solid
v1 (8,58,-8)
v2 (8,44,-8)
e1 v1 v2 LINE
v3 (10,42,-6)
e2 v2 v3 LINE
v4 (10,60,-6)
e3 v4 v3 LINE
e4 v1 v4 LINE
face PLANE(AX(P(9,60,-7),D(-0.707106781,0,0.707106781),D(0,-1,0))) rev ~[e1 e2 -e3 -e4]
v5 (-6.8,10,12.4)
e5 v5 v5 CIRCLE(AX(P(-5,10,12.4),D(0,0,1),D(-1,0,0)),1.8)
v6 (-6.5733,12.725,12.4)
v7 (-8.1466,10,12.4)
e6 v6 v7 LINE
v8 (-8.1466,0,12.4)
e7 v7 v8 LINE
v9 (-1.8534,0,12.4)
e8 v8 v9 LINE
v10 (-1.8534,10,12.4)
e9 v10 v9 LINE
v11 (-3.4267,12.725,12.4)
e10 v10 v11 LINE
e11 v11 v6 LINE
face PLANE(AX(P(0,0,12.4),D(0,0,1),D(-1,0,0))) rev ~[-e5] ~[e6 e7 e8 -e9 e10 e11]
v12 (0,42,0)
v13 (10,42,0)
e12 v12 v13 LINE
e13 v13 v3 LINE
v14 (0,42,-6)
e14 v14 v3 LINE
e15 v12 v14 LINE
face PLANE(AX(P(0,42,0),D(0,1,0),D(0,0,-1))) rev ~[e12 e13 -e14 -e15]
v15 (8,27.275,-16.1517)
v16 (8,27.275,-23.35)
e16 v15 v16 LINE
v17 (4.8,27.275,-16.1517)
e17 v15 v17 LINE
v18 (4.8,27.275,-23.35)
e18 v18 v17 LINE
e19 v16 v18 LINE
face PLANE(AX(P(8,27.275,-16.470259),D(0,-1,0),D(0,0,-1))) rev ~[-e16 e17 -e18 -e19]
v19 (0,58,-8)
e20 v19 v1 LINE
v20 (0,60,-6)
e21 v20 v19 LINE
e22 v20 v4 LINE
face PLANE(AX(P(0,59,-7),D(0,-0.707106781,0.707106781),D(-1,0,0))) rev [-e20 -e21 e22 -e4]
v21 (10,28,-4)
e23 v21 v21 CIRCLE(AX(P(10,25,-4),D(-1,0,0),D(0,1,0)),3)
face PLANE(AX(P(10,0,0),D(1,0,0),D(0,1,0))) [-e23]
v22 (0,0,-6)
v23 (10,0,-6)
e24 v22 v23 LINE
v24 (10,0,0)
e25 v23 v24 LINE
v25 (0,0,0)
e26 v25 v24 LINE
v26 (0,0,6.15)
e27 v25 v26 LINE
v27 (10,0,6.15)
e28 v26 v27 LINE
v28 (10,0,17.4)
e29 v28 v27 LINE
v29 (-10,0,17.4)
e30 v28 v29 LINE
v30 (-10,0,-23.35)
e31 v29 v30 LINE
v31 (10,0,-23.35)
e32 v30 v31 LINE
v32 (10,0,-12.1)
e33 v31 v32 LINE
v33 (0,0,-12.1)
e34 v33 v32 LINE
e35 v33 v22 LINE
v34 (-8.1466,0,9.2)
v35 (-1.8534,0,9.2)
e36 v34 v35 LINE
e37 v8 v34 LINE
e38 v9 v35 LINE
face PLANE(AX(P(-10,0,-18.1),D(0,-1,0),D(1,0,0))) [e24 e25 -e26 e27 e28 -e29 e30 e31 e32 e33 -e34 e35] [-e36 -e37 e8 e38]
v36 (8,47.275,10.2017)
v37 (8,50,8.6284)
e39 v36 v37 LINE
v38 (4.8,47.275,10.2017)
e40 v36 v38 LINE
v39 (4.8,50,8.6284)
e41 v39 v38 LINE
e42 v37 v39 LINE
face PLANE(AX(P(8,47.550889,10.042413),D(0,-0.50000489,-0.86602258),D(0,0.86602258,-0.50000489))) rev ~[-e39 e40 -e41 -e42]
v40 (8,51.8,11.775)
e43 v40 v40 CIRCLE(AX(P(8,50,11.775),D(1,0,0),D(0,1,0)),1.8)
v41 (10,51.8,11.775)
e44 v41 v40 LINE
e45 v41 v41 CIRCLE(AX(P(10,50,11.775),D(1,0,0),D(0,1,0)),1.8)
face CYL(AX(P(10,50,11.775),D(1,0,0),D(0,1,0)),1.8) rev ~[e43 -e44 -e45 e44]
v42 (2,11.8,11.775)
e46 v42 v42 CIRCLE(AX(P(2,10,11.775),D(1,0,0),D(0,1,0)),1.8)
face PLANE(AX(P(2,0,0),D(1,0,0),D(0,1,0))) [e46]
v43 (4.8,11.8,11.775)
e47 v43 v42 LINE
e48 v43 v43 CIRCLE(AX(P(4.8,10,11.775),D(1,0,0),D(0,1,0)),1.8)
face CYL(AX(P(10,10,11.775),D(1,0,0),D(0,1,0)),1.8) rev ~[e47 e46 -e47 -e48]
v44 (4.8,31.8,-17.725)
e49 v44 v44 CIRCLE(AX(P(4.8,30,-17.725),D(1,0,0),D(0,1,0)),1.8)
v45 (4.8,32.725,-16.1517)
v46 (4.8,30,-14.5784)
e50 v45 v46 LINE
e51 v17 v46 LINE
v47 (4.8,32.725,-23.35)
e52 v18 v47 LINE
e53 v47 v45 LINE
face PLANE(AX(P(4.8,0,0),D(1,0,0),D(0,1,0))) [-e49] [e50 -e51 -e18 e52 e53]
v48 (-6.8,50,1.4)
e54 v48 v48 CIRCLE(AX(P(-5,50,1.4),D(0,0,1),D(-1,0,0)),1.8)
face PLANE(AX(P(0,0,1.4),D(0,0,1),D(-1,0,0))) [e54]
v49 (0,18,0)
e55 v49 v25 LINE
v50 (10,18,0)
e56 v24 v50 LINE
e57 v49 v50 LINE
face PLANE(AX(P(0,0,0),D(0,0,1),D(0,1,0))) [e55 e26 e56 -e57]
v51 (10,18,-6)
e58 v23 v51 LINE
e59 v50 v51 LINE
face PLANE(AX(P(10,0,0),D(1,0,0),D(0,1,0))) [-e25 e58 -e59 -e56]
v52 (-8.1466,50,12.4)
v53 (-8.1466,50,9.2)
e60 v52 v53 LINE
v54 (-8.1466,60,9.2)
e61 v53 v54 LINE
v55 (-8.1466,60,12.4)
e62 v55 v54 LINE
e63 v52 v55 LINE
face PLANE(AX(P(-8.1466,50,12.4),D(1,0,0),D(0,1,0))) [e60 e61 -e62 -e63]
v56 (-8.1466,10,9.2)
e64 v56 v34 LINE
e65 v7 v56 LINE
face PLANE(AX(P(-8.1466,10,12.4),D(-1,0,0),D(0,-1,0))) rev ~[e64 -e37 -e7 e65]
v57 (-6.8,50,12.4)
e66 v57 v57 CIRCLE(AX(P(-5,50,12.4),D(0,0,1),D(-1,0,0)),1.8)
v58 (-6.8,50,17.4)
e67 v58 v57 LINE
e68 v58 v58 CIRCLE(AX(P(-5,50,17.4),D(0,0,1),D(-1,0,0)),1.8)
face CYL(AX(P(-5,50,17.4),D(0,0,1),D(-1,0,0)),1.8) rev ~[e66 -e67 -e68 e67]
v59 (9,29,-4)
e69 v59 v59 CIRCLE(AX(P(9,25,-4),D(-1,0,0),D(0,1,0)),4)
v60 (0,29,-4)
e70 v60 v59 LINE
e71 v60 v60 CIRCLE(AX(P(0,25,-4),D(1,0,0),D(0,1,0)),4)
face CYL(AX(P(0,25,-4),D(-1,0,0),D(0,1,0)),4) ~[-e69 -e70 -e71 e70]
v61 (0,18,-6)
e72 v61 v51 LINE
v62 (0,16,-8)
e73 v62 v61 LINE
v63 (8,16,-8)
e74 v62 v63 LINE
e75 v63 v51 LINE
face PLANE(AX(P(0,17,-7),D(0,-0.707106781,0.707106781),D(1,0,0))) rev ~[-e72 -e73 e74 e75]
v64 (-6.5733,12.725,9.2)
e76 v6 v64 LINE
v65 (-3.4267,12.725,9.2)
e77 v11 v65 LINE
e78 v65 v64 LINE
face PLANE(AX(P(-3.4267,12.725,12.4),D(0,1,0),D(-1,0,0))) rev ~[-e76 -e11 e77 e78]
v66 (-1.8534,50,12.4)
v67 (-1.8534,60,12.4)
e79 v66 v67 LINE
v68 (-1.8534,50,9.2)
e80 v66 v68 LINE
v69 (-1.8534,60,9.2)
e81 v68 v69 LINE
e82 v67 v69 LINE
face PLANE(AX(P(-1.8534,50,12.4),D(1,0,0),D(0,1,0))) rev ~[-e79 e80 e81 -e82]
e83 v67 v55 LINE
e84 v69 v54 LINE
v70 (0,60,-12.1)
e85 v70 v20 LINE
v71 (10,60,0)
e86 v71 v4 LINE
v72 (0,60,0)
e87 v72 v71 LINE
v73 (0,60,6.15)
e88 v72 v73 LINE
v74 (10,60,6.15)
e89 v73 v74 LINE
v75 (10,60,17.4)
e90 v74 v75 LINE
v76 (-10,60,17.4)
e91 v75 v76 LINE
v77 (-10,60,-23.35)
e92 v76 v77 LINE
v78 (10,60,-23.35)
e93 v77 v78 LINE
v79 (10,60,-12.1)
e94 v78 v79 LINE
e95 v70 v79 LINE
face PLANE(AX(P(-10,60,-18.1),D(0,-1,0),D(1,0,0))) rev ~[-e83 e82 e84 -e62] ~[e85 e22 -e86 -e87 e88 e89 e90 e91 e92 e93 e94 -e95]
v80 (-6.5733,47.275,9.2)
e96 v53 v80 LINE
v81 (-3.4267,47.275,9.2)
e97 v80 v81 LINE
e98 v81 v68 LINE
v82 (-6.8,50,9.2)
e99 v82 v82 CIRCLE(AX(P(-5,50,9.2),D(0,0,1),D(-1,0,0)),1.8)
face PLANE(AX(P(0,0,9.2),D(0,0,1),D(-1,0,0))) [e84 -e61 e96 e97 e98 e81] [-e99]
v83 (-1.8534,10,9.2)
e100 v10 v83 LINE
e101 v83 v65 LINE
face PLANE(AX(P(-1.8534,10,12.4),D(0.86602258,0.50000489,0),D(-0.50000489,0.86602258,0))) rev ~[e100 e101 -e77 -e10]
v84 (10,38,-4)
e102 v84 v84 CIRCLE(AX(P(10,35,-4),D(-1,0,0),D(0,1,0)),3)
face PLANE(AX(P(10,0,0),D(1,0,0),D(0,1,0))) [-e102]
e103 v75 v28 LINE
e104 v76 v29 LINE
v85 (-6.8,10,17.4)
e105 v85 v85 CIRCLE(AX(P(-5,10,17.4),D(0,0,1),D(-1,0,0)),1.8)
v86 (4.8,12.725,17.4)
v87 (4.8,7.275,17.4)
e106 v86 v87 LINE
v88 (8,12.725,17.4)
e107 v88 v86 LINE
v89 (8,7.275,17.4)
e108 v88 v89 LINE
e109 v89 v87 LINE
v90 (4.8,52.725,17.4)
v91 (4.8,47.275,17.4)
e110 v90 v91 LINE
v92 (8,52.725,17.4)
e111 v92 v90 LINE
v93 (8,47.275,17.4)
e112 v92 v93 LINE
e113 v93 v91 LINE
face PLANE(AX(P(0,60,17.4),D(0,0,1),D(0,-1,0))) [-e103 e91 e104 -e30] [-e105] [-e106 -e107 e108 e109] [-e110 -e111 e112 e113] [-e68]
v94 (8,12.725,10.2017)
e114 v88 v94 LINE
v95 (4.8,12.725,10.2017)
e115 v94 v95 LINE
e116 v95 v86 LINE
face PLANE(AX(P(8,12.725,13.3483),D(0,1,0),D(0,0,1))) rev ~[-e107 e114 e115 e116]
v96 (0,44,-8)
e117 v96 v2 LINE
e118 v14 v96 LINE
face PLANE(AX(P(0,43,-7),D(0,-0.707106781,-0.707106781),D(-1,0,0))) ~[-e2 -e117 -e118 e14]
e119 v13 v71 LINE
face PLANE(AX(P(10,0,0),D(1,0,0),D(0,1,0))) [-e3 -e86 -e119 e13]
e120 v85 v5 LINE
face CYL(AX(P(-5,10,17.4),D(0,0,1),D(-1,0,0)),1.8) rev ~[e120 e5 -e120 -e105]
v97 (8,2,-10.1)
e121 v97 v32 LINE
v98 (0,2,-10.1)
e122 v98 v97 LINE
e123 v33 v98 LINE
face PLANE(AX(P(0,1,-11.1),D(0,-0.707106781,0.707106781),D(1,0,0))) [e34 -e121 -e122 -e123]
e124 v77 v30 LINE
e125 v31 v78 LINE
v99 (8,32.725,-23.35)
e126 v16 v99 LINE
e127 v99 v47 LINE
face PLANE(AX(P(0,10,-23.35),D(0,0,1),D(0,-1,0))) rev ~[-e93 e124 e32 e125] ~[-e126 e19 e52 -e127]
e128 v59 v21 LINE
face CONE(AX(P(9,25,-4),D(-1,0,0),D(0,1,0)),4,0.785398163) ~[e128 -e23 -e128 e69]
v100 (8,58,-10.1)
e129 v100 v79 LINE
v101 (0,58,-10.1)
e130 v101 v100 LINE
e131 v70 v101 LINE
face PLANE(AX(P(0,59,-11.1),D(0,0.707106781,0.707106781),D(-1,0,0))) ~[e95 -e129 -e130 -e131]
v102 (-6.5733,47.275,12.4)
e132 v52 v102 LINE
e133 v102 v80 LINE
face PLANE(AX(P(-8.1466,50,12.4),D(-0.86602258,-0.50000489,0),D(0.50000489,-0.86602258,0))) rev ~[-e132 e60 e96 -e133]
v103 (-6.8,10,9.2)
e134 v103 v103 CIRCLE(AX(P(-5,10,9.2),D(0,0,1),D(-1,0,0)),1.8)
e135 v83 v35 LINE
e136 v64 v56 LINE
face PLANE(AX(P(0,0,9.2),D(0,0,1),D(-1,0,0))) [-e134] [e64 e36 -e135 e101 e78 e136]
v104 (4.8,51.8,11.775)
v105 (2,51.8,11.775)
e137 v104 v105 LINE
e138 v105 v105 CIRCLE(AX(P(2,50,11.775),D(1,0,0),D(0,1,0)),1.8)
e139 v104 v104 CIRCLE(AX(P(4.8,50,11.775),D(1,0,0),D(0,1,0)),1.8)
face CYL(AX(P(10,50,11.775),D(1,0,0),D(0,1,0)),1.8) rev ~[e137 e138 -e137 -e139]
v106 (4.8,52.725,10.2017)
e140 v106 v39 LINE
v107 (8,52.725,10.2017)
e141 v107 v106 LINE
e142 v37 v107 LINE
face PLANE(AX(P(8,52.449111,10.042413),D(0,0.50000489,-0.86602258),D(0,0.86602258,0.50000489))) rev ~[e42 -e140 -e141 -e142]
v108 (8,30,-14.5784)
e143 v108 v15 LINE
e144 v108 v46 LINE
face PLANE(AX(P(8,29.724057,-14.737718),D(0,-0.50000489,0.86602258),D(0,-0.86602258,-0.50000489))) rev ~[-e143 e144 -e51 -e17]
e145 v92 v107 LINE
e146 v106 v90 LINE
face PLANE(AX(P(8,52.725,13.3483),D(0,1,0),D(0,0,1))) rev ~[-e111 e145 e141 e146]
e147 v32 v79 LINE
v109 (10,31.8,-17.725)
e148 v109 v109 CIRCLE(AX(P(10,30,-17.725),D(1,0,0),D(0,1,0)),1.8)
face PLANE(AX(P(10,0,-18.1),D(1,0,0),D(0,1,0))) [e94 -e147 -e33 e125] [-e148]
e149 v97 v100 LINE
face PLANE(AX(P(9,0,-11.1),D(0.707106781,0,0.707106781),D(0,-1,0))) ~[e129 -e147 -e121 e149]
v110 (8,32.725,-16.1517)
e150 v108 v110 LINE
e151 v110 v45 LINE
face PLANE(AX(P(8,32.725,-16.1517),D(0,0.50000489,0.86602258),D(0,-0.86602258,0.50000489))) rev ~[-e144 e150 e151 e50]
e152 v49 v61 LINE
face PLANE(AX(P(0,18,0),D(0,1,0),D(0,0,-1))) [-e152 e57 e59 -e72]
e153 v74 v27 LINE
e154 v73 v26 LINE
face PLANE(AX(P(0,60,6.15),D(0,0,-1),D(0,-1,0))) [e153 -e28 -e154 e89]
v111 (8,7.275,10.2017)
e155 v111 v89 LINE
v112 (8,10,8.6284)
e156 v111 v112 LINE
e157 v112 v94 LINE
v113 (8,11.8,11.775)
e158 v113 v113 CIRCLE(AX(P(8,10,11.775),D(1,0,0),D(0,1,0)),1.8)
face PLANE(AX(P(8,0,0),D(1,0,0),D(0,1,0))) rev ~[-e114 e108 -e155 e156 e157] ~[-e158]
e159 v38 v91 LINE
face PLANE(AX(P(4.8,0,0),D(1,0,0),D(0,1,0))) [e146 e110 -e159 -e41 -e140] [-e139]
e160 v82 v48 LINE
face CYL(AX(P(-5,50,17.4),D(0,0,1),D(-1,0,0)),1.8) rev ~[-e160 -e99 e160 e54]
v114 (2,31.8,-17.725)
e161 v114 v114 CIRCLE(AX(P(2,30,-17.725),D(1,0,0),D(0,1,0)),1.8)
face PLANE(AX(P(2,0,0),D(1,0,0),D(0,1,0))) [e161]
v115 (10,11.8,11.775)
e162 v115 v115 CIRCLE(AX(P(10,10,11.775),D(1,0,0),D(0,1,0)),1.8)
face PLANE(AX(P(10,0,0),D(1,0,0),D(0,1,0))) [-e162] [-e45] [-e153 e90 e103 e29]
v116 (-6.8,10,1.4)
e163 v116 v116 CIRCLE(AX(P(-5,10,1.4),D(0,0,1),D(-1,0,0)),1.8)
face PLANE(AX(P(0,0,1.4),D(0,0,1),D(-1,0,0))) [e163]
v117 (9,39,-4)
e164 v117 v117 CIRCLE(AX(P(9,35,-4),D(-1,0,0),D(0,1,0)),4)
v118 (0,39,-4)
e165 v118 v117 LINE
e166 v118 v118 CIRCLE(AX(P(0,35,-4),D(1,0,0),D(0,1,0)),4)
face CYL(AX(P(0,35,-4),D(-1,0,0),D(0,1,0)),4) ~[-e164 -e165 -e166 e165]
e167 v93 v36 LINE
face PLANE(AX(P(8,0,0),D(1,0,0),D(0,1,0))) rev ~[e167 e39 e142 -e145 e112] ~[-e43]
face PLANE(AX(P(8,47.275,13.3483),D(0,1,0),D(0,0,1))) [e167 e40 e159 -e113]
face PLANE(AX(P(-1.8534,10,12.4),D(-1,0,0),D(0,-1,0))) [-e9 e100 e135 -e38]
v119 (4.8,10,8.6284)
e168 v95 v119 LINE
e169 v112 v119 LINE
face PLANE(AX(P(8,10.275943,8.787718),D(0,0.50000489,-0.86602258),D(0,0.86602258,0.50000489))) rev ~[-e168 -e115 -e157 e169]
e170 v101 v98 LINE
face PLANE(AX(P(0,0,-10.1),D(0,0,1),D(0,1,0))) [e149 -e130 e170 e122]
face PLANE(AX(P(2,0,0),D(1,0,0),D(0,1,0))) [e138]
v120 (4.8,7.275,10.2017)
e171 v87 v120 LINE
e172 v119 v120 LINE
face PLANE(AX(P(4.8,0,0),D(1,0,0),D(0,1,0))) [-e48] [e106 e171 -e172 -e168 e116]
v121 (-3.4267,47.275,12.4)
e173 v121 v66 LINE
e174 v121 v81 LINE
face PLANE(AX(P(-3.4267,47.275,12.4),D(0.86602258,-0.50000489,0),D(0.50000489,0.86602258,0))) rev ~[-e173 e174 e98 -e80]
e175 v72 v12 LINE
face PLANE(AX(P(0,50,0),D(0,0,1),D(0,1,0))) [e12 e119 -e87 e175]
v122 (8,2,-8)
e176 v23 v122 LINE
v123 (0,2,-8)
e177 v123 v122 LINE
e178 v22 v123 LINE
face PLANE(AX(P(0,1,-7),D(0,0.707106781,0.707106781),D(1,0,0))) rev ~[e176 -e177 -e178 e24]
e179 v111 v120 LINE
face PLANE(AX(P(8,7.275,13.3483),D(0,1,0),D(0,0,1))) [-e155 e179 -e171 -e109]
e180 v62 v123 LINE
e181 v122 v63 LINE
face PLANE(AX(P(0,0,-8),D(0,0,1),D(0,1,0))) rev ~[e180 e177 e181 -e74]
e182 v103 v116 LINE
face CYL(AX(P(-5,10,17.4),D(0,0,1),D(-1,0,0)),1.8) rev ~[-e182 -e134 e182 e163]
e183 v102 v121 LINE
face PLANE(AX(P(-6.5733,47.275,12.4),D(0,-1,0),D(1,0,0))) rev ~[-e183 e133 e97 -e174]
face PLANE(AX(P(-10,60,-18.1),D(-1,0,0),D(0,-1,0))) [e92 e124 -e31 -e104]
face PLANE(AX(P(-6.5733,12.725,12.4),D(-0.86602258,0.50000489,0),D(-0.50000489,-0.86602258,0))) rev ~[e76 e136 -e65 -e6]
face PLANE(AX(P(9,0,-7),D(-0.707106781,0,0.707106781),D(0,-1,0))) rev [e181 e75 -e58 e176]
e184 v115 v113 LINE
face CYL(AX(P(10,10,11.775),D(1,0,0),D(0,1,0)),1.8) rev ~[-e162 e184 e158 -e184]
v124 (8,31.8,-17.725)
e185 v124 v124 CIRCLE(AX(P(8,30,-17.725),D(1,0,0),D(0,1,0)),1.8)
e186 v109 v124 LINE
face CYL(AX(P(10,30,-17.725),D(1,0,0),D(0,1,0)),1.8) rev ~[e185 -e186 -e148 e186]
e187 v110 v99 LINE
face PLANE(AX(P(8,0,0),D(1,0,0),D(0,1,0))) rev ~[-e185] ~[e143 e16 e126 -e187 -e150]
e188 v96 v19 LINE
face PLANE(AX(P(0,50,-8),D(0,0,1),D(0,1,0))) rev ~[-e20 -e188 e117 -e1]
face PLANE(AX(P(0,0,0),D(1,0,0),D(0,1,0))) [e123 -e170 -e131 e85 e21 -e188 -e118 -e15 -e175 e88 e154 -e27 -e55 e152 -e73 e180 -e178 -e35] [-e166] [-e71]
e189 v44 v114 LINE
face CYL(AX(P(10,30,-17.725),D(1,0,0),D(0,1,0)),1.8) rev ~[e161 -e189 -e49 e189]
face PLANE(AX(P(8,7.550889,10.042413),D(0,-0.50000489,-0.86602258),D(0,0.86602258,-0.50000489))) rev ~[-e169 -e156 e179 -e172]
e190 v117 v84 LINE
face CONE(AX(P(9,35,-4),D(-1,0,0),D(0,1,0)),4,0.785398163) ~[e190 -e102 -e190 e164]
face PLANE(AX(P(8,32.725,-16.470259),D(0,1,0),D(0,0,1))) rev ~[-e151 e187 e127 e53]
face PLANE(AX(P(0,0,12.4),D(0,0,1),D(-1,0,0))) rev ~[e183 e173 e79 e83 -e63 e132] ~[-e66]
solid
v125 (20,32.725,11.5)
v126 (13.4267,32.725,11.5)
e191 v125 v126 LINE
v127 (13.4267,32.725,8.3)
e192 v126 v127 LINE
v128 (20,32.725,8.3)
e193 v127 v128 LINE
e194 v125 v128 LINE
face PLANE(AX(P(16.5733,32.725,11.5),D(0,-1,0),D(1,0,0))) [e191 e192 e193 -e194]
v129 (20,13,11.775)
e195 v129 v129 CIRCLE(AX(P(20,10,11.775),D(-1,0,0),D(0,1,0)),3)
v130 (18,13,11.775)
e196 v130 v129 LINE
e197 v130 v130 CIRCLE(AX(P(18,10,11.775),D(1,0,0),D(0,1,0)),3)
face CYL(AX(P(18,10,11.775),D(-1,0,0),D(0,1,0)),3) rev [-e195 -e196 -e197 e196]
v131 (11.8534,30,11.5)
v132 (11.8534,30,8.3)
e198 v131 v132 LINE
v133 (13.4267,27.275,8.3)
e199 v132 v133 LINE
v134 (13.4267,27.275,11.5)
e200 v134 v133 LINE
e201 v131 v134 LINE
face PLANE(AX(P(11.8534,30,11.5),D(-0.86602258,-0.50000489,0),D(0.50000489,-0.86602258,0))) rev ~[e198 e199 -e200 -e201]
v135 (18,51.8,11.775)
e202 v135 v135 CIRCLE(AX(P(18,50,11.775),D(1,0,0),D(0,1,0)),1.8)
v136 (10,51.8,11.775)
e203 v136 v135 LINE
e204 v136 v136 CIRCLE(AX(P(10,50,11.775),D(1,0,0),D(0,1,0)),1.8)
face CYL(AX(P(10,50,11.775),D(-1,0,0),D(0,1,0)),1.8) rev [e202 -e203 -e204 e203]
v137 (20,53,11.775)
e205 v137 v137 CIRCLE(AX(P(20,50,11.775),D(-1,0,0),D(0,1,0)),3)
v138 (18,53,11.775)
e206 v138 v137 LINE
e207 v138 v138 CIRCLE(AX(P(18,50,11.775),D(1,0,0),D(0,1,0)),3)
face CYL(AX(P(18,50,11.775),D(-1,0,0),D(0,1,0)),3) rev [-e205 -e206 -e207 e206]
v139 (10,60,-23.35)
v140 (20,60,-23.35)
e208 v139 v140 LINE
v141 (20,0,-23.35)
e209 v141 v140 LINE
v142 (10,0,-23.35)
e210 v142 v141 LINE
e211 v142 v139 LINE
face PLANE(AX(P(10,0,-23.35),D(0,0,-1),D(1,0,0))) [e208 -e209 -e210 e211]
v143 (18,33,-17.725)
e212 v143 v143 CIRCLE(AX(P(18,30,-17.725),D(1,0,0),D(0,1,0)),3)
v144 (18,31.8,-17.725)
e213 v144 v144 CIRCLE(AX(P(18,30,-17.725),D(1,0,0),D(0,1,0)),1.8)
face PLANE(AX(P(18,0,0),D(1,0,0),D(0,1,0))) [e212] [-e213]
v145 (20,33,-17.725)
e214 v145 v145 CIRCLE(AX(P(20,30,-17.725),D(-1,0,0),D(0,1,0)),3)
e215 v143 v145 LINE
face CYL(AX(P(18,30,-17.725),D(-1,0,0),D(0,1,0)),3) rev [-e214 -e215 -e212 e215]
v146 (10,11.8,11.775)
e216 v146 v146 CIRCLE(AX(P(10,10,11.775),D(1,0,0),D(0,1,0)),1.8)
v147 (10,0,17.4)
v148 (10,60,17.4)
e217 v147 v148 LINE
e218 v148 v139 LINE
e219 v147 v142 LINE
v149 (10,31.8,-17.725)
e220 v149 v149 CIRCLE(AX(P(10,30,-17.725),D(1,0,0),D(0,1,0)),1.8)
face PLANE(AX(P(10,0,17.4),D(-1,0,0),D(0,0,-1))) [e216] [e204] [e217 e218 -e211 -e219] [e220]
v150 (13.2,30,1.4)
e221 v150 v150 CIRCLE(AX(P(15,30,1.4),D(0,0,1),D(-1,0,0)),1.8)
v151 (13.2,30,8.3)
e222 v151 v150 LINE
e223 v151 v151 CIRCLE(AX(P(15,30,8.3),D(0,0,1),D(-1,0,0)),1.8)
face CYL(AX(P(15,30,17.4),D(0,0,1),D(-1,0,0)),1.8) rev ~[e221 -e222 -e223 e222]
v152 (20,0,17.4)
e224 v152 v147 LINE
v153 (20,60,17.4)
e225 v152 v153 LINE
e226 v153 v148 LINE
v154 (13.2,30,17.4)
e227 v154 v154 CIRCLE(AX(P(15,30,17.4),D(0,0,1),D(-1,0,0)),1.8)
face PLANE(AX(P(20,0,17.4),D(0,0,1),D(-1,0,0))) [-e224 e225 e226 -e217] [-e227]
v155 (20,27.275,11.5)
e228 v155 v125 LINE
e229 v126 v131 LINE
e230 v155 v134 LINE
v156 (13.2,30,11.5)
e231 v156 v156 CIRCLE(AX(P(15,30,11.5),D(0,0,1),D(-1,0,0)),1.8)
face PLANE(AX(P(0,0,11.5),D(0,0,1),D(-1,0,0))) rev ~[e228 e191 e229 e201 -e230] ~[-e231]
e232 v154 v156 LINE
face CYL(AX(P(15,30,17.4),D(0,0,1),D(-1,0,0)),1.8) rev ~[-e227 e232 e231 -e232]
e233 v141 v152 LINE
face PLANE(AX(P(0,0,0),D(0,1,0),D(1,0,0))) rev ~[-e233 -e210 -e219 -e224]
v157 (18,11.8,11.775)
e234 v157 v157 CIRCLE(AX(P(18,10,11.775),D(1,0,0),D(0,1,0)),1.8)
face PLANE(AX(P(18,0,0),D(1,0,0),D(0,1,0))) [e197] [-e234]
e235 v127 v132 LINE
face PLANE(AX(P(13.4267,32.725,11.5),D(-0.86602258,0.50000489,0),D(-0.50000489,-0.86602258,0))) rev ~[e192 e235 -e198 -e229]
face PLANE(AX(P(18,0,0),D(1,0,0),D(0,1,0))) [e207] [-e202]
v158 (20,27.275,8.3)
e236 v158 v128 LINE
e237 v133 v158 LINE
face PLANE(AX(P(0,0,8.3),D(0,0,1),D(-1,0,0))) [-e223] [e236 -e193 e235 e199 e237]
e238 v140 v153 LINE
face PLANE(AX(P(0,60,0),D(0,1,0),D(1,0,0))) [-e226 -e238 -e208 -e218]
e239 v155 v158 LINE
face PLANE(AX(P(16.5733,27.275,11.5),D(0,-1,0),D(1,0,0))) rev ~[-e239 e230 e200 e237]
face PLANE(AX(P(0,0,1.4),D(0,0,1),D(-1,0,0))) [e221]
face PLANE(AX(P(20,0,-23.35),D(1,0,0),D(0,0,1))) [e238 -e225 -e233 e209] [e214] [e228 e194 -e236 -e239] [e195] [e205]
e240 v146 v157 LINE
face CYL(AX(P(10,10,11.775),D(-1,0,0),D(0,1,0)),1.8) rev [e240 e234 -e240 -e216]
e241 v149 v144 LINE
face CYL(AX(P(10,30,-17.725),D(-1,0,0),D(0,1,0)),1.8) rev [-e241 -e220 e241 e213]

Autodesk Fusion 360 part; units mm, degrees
sketch "main" plane through (0, 0, 0) normal (1, 0, 0) x (0, 1, 0)
  line L0 (0, 0) -> (60, 0)
  line L1 (60, 0) -> (60, -18.1)
  line L2 (60, -18.1) -> (0, -18.1)
  line L3 (0, -18.1) -> (0, 0)
  line L4 (0, 0) -> (60, 0)
  line L5 (60, 0) -> (60, 17.4)
  line L6 (60, 17.4) -> (0, 17.4)
  line L7 (0, 17.4) -> (0, 0)
  line L8 (0, 17.4) -> (60, 17.4)
  line L9 (60, 17.4) -> (60, 6.15)
  line L10 (60, 6.15) -> (0, 6.15)
  line L11 (0, 6.15) -> (0, 17.4)
  line L12 (0, -18.1) -> (10, -18.1) construction
  line L13 (10, -18.1) -> (10, 0) construction
  line L14 (10, 0) -> (0, 0) construction
  line L15 (0, 0) -> (0, -18.1) construction
  line L16 (60, -18.1) -> (50, -18.1) construction
  line L17 (50, -18.1) -> (50, 0) construction
  line L18 (50, 0) -> (60, 0) construction
  line L19 (60, 0) -> (60, -18.1) construction
  line L20 (10, 0) -> (18, 0)
  line L21 (18, 0) -> (18, -8)
  line L22 (18, -8) -> (10, -8)
  line L23 (10, -8) -> (10, 0)
  line L24 (10, -18.1) -> (18, -18.1)
  line L25 (18, -18.1) -> (18, -10.1)
  line L26 (18, -10.1) -> (10, -10.1)
  line L27 (10, -10.1) -> (10, -18.1)
  line L28 (50, -18.1) -> (42, -18.1)
  line L29 (42, -18.1) -> (42, -10.1)
  line L30 (42, -10.1) -> (50, -10.1)
  line L31 (50, -10.1) -> (50, -18.1)
  line L32 (50, 0) -> (42, 0)
  line L33 (42, 0) -> (42, -8)
  line L34 (42, -8) -> (50, -8)
  line L35 (50, -8) -> (50, 0)
  line L36 (10, 0) -> (18, -8) construction
  line L37 (18, 0) -> (10, -8) construction
  line L38 (42, 0) -> (50, -8) construction
  line L39 (50, 0) -> (42, -8) construction
  line L40 (14, -4) -> (25, -4) construction
  line L41 (46, -4) -> (35, -4) construction
  circle A0 centre (25, -4) radius 4
  circle A1 centre (35, -4) radius 4
  line L42 (0, -10.1) -> (60, -10.1)
  line L43 (0, -8) -> (60, -8)
  dimension "d1" = 60
  dimension "d2" = 18.1
  dimension "d3" = 60
  dimension "d4" = 17.4
  dimension "d5" = 60
  dimension "d6" = 11.25
  dimension "d7" = 10
  dimension "d8" = 18.1
  dimension "d9" = 10
  dimension "d10" = 18.1
  dimension "d11" = 8
  dimension "d12" = 8
  dimension "d13" = 8
  dimension "d14" = 8
  dimension "d15" = 8
  dimension "d16" = 8
  dimension "d17" = 8
  dimension "d18" = 8
  dimension "d19" = 11
  dimension "d20" = 11
  dimension "d21" = 8
  dimension "d22" = 8
extrude "Extrude1" add sketch "main" against normal blind 10 makes body 1
extrude "Extrude2" add sketch "main" along normal blind 10 contours L0 L3 L4 L23 L43 | L0 L4 L20 L21 L22 L23 L43 | L5 L6 L7 L8 L9 L10 L11 | L2 L3 L27 L42 | A0 | L2 L24 L25 L26 L27 L42 | L0 L1 L4 L35 L43 | A1 | L2 L25 L29 L42 | L0 L4 L32 L33 L34 L35 L43 | L2 L28 L29 L30 L31 L42 | L1 L2 L31 L42 bodies 1
chamfer "Chamfer2" distance 2 angle 45 9 edges at (5, 0, -8) (5, 18, -8) (10, 9, -8) (10, 30, -10.1) (5, 0, -10.1) (10, 51, -8) (5, 60, -8) (5, 60, -10.1) (5, 42, -8) on bodies 1
chamfer "Chamfer3" distance 1 angle 45 2 edges at (10, 21.2707, -5.4465) (10, 31.2707, -5.4465) on bodies 1
sketch "main-top-mount" plane through (0, 0, 17.4) normal (0, 0, 1) x (-1, 0, 0)
  line L0 (-10, -60) -> (10, -60)
  line L1 (10, -60) -> (10, 0)
  line L2 (10, 0) -> (-10, 0)
  line L3 (-10, 0) -> (-10, -60)
  line L4 (10, 0) -> (0, 0) construction
  line L5 (0, 0) -> (0, -20) construction
  line L6 (0, -20) -> (10, -20) construction
  line L7 (10, -20) -> (10, 0) construction
  line L8 (10, -60) -> (0, -60) construction
  line L9 (0, -60) -> (0, -40) construction
  line L10 (0, -40) -> (10, -40) construction
  line L11 (10, -40) -> (10, -60) construction
  line L12 (10, 0) -> (0, -20) construction
  line L13 (0, 0) -> (10, -20) construction
  line L14 (10, -60) -> (0, -40) construction
  line L15 (0, -60) -> (10, -40) construction
  circle A0 centre (5, -10) radius 1.8
  circle A1 centre (5, -50) radius 1.8
  line L16 (6.5733, -12.725) -> (8.1466, -10)
  line L17 (8.1466, -10) -> (6.5733, -7.275)
  line L18 (6.5733, -7.275) -> (3.4267, -7.275)
  line L19 (3.4267, -7.275) -> (1.8534, -10)
  line L20 (1.8534, -10) -> (3.4267, -12.725)
  line L21 (3.4267, -12.725) -> (6.5733, -12.725)
  line L22 (6.5733, -52.725) -> (8.1466, -50)
  line L23 (8.1466, -50) -> (6.5733, -47.275)
  line L24 (6.5733, -47.275) -> (3.4267, -47.275)
  line L25 (3.4267, -47.275) -> (1.8534, -50)
  line L26 (1.8534, -50) -> (3.4267, -52.725)
  line L27 (3.4267, -52.725) -> (6.5733, -52.725)
  line L28 (8.1466, -10) -> (8.1466, 0)
  line L29 (1.8534, -10) -> (1.8534, 0)
  line L30 (1.8534, -50) -> (1.8534, -60)
  line L31 (8.1466, -50) -> (8.1466, -60)
  point P0 (5, -10)
  point P1 (5, -50)
  dimension "d32" = 10
  dimension "d33" = 20
  dimension "d34" = 10
  dimension "d35" = 20
  dimension "d36" = 3.6
  dimension "d37" = 3.6
  dimension "d38" = 2.725
  dimension "d39" = 2.725
  dimension "d40" = 10
  dimension "d41" = 10
  dimension "d42" = 10
  dimension "d43" = 10
extrude "Extrude3" cut sketch "main-top-mount" against normal blind 16 contours A0 | A1 bodies 1
extrude "Extrude4" cut sketch "main-top-mount" against normal blind 3.2 from surface at -5 contours L0 L22 L26 L27 L30 L31 | L22 L23 L24 L25 L26 L27 | L2 L17 L18 L19 L28 L29 | L16 L17 L18 L19 L20 L21 bodies 1
extrude "Extrude5" add 1 faces at (-3.3333, 20, -18.1) along direction (0, 0, -1) blind 5.25 on bodies 1 bodies 1
sketch "cover" plane through (0, 0, 0) normal (0, 1, 0) x (1, 0, 0)
  line L0 (0, 23.35) -> (10, 23.35) construction
  line L1 (10, 23.35) -> (10, -17.4) construction
  line L2 (10, -17.4) -> (0, -17.4) construction
  line L3 (0, -17.4) -> (0, 23.35) construction
  line L4 (-10, 23.35) -> (10, 23.35) construction
  line L5 (-10, -17.4) -> (10, -17.4) construction
  line L6 (10, 23.35) -> (20, 23.35)
  line L7 (20, 23.35) -> (20, -17.4)
  line L8 (20, -17.4) -> (10, -17.4)
  line L9 (10, -17.4) -> (10, 23.35)
  dimension "d51" = 10
  dimension "d52" = 10
extrude "Extrude6" add sketch "cover" along normal blind 60 separate body makes body 2
sketch "cover-joint" plane through (10, 0, 0) normal (1, 0, 0) x (0, 1, 0)
  line L0 (0, 6.15) -> (60, 6.15)
  line L1 (60, 6.15) -> (60, 17.4)
  line L2 (60, 17.4) -> (0, 17.4)
  line L3 (0, 17.4) -> (0, 6.15)
  line L4 (0, 17.4) -> (20, 17.4) construction
  line L5 (20, 17.4) -> (20, 6.15) construction
  line L6 (20, 6.15) -> (0, 6.15) construction
  line L7 (0, 6.15) -> (0, 17.4) construction
  line L8 (60, 17.4) -> (40, 17.4) construction
  line L9 (40, 17.4) -> (40, 6.15) construction
  line L10 (40, 6.15) -> (60, 6.15) construction
  line L11 (60, 6.15) -> (60, 17.4) construction
  line L12 (0, 6.15) -> (60, 6.15) construction
  line L13 (60, 6.15) -> (60, -12.1) construction
  line L14 (60, -12.1) -> (0, -12.1) construction
  line L15 (0, -12.1) -> (0, 6.15) construction
  line L16 (0, -12.1) -> (60, -12.1) construction
  line L17 (60, -12.1) -> (60, -23.35) construction
  line L18 (60, -23.35) -> (0, -23.35) construction
  line L19 (0, -23.35) -> (0, -12.1) construction
  line L20 (0, -12.1) -> (60, -23.35) construction
  line L21 (60, -12.1) -> (0, -23.35) construction
  line L22 (0, 17.4) -> (20, 6.15) construction
  line L23 (20, 17.4) -> (0, 6.15) construction
  line L24 (40, 17.4) -> (60, 6.15) construction
  line L25 (60, 17.4) -> (40, 6.15) construction
  circle A0 centre (10, 11.775) radius 1.8
  circle A1 centre (50, 11.775) radius 1.8
  circle A2 centre (30, -17.725) radius 1.8
  line L26 (32.725, -16.1517) -> (30, -14.5784)
  line L27 (30, -14.5784) -> (27.275, -16.1517)
  line L28 (27.275, -16.1517) -> (27.275, -19.2983)
  line L29 (27.275, -19.2983) -> (30, -20.8716)
  line L30 (30, -20.8716) -> (32.725, -19.2983)
  line L31 (32.725, -19.2983) -> (32.725, -16.1517)
  line L32 (12.725, 13.3483) -> (10, 14.9216)
  line L33 (10, 14.9216) -> (7.275, 13.3483)
  line L34 (7.275, 13.3483) -> (7.275, 10.2017)
  line L35 (7.275, 10.2017) -> (10, 8.6284)
  line L36 (10, 8.6284) -> (12.725, 10.2017)
  line L37 (12.725, 10.2017) -> (12.725, 13.3483)
  line L38 (52.725, 13.3483) -> (50, 14.9216)
  line L39 (50, 14.9216) -> (47.275, 13.3483)
  line L40 (47.275, 13.3483) -> (47.275, 10.2017)
  line L41 (47.275, 10.2017) -> (50, 8.6284)
  line L42 (50, 8.6284) -> (52.725, 10.2017)
  line L43 (52.725, 10.2017) -> (52.725, 13.3483)
  line L44 (7.275, 13.3483) -> (7.275, 17.4)
  line L45 (12.725, 13.3483) -> (12.725, 17.4)
  line L46 (47.275, 13.3483) -> (47.275, 17.4)
  line L47 (52.725, 13.3483) -> (52.725, 17.4)
  line L48 (27.275, -19.2983) -> (27.275, -23.35)
  line L49 (32.725, -19.2983) -> (32.725, -23.35)
  line L50 (27.275, -23.35) -> (32.725, -23.35)
  line L51 (7.275, 17.4) -> (12.725, 17.4)
  line L52 (47.275, 17.4) -> (52.725, 17.4)
  circle A3 centre (10, 11.775) radius 3
  circle A4 centre (50, 11.775) radius 3
  circle A5 centre (30, -17.725) radius 3
  point P0 (30, -17.725)
  point P1 (10, 11.775)
  point P2 (50, 11.775)
  dimension "d55" = 20
  dimension "d56" = 11.25
  dimension "d57" = 20
  dimension "d58" = 11.25
  dimension "d59" = 60
  dimension "d60" = 18.25
  dimension "d61" = 60
  dimension "d62" = 11.25
  dimension "d63" = 3.6
  dimension "d64" = 3.6
  dimension "d65" = 3.6
  dimension "d66" = 2.725
  dimension "d67" = 2.725
  dimension "d68" = 2.725
  dimension "d76" = 6
  dimension "d77" = 6
  dimension "d78" = 6
extrude "Extrude7" cut sketch "cover-joint" along normal blind 10 and the other way blind 8 contours A0 | A1 | A2 bodies 1 2
extrude "Extrude8" cut sketch "cover-joint" against normal blind 3.2 from surface at -2 contours L2 L32 L33 L44 L45 L51 A3 | L2 L38 L39 L46 L47 L52 A4 | L33 L34 A3 | L38 L43 A4 | L32 L37 A3 | L33 A3 | L32 L33 L34 L35 L36 L37 A3 | L39 L40 A4 | L38 L39 L40 L41 L42 L43 A4 | L38 A4 | L32 A3 | L32 L33 A3 | L34 L35 A3 | L39 A4 | L38 L39 A4 | L42 L43 A4 | L36 L37 A3 | L40 L41 A4 | L35 L36 A3 | L41 L42 A4 | L26 L31 A5 | L26 L27 L28 L29 L30 L31 A5 | L26 L27 A5 | L30 L31 A5 | L29 L30 L48 L49 L50 A5 | L30 A5 | L27 L28 A5 | L29 L30 A5 | L29 A5 | L28 L29 A5 bodies 1
extrude "Extrude9" cut sketch "cover-joint" along normal blind 2 from surface at 8 contours L33 A3 | L32 L33 L34 L35 L36 L37 A3 | L34 A3 | L38 L39 L40 L41 L42 L43 A4 | L38 A4 | L43 A4 | L32 A3 | L37 A3 | L39 A4 | L40 A4 | L35 A3 | L42 A4 | L36 A3 | L41 A4 | L26 L27 L28 L29 L30 L31 A5 | L26 A5 | L31 A5 | L27 A5 | L30 A5 | L28 A5 | L29 A5 bodies 2
sketch "cover-top-mount" plane through (0, 0, 17.4) normal (0, 0, 1) x (-1, 0, 0)
  line L0 (-10, 0) -> (-20, 0)
  line L1 (-20, 0) -> (-20, -60)
  line L2 (-20, -60) -> (-10, -60)
  line L3 (-10, -60) -> (-10, 0)
  line L4 (-10, 0) -> (-20, -60) construction
  line L5 (-10, -60) -> (-20, 0) construction
  circle A0 centre (-15, -30) radius 1.8
  line L6 (-13.4267, -32.725) -> (-11.8534, -30)
  line L7 (-11.8534, -30) -> (-13.4267, -27.275)
  line L8 (-13.4267, -27.275) -> (-16.5733, -27.275)
  line L9 (-16.5733, -27.275) -> (-18.1466, -30)
  line L10 (-18.1466, -30) -> (-16.5733, -32.725)
  line L11 (-16.5733, -32.725) -> (-13.4267, -32.725)
  line L12 (-16.5733, -27.275) -> (-20, -27.275)
  line L13 (-16.5733, -32.725) -> (-20, -32.725)
  line L14 (-20, -32.725) -> (-20, -27.275)
  point P0 (-15, -30)
  dimension "d82" = 3.6
  dimension "d83" = 2.725
extrude "Extrude10" cut sketch "cover-top-mount" against normal blind 16 contours A0 bodies 2
extrude "Extrude11" cut sketch "cover-top-mount" against normal blind 3.2 from surface at -5.9 contours L1 L9 L10 L12 L13 L14 | L6 L7 L8 L9 L10 L11 bodies 2
equation "d2 = 8 mm + 8 mm + 2.1 mm"
equation "d4 = 14 mm - ( 18.1 mm - 8 mm ) + 13.5 mm"
equation "d38 = ( 5.45 / 2 ) * 1 mm"
equation "d39 = ( 5.45 / 2 ) * 1 mm"
equation "d66 = ( 5.45 / 2 ) * 1 mm"
equation "d67 = ( 5.45 / 2 ) * 1 mm"
equation "d68 = ( 5.45 / 2 ) * 1 mm"
equation "d83 = ( 5.45 / 2 ) * 1 mm"
equation "d86 = -7.5 mm + 1.6 mm"
